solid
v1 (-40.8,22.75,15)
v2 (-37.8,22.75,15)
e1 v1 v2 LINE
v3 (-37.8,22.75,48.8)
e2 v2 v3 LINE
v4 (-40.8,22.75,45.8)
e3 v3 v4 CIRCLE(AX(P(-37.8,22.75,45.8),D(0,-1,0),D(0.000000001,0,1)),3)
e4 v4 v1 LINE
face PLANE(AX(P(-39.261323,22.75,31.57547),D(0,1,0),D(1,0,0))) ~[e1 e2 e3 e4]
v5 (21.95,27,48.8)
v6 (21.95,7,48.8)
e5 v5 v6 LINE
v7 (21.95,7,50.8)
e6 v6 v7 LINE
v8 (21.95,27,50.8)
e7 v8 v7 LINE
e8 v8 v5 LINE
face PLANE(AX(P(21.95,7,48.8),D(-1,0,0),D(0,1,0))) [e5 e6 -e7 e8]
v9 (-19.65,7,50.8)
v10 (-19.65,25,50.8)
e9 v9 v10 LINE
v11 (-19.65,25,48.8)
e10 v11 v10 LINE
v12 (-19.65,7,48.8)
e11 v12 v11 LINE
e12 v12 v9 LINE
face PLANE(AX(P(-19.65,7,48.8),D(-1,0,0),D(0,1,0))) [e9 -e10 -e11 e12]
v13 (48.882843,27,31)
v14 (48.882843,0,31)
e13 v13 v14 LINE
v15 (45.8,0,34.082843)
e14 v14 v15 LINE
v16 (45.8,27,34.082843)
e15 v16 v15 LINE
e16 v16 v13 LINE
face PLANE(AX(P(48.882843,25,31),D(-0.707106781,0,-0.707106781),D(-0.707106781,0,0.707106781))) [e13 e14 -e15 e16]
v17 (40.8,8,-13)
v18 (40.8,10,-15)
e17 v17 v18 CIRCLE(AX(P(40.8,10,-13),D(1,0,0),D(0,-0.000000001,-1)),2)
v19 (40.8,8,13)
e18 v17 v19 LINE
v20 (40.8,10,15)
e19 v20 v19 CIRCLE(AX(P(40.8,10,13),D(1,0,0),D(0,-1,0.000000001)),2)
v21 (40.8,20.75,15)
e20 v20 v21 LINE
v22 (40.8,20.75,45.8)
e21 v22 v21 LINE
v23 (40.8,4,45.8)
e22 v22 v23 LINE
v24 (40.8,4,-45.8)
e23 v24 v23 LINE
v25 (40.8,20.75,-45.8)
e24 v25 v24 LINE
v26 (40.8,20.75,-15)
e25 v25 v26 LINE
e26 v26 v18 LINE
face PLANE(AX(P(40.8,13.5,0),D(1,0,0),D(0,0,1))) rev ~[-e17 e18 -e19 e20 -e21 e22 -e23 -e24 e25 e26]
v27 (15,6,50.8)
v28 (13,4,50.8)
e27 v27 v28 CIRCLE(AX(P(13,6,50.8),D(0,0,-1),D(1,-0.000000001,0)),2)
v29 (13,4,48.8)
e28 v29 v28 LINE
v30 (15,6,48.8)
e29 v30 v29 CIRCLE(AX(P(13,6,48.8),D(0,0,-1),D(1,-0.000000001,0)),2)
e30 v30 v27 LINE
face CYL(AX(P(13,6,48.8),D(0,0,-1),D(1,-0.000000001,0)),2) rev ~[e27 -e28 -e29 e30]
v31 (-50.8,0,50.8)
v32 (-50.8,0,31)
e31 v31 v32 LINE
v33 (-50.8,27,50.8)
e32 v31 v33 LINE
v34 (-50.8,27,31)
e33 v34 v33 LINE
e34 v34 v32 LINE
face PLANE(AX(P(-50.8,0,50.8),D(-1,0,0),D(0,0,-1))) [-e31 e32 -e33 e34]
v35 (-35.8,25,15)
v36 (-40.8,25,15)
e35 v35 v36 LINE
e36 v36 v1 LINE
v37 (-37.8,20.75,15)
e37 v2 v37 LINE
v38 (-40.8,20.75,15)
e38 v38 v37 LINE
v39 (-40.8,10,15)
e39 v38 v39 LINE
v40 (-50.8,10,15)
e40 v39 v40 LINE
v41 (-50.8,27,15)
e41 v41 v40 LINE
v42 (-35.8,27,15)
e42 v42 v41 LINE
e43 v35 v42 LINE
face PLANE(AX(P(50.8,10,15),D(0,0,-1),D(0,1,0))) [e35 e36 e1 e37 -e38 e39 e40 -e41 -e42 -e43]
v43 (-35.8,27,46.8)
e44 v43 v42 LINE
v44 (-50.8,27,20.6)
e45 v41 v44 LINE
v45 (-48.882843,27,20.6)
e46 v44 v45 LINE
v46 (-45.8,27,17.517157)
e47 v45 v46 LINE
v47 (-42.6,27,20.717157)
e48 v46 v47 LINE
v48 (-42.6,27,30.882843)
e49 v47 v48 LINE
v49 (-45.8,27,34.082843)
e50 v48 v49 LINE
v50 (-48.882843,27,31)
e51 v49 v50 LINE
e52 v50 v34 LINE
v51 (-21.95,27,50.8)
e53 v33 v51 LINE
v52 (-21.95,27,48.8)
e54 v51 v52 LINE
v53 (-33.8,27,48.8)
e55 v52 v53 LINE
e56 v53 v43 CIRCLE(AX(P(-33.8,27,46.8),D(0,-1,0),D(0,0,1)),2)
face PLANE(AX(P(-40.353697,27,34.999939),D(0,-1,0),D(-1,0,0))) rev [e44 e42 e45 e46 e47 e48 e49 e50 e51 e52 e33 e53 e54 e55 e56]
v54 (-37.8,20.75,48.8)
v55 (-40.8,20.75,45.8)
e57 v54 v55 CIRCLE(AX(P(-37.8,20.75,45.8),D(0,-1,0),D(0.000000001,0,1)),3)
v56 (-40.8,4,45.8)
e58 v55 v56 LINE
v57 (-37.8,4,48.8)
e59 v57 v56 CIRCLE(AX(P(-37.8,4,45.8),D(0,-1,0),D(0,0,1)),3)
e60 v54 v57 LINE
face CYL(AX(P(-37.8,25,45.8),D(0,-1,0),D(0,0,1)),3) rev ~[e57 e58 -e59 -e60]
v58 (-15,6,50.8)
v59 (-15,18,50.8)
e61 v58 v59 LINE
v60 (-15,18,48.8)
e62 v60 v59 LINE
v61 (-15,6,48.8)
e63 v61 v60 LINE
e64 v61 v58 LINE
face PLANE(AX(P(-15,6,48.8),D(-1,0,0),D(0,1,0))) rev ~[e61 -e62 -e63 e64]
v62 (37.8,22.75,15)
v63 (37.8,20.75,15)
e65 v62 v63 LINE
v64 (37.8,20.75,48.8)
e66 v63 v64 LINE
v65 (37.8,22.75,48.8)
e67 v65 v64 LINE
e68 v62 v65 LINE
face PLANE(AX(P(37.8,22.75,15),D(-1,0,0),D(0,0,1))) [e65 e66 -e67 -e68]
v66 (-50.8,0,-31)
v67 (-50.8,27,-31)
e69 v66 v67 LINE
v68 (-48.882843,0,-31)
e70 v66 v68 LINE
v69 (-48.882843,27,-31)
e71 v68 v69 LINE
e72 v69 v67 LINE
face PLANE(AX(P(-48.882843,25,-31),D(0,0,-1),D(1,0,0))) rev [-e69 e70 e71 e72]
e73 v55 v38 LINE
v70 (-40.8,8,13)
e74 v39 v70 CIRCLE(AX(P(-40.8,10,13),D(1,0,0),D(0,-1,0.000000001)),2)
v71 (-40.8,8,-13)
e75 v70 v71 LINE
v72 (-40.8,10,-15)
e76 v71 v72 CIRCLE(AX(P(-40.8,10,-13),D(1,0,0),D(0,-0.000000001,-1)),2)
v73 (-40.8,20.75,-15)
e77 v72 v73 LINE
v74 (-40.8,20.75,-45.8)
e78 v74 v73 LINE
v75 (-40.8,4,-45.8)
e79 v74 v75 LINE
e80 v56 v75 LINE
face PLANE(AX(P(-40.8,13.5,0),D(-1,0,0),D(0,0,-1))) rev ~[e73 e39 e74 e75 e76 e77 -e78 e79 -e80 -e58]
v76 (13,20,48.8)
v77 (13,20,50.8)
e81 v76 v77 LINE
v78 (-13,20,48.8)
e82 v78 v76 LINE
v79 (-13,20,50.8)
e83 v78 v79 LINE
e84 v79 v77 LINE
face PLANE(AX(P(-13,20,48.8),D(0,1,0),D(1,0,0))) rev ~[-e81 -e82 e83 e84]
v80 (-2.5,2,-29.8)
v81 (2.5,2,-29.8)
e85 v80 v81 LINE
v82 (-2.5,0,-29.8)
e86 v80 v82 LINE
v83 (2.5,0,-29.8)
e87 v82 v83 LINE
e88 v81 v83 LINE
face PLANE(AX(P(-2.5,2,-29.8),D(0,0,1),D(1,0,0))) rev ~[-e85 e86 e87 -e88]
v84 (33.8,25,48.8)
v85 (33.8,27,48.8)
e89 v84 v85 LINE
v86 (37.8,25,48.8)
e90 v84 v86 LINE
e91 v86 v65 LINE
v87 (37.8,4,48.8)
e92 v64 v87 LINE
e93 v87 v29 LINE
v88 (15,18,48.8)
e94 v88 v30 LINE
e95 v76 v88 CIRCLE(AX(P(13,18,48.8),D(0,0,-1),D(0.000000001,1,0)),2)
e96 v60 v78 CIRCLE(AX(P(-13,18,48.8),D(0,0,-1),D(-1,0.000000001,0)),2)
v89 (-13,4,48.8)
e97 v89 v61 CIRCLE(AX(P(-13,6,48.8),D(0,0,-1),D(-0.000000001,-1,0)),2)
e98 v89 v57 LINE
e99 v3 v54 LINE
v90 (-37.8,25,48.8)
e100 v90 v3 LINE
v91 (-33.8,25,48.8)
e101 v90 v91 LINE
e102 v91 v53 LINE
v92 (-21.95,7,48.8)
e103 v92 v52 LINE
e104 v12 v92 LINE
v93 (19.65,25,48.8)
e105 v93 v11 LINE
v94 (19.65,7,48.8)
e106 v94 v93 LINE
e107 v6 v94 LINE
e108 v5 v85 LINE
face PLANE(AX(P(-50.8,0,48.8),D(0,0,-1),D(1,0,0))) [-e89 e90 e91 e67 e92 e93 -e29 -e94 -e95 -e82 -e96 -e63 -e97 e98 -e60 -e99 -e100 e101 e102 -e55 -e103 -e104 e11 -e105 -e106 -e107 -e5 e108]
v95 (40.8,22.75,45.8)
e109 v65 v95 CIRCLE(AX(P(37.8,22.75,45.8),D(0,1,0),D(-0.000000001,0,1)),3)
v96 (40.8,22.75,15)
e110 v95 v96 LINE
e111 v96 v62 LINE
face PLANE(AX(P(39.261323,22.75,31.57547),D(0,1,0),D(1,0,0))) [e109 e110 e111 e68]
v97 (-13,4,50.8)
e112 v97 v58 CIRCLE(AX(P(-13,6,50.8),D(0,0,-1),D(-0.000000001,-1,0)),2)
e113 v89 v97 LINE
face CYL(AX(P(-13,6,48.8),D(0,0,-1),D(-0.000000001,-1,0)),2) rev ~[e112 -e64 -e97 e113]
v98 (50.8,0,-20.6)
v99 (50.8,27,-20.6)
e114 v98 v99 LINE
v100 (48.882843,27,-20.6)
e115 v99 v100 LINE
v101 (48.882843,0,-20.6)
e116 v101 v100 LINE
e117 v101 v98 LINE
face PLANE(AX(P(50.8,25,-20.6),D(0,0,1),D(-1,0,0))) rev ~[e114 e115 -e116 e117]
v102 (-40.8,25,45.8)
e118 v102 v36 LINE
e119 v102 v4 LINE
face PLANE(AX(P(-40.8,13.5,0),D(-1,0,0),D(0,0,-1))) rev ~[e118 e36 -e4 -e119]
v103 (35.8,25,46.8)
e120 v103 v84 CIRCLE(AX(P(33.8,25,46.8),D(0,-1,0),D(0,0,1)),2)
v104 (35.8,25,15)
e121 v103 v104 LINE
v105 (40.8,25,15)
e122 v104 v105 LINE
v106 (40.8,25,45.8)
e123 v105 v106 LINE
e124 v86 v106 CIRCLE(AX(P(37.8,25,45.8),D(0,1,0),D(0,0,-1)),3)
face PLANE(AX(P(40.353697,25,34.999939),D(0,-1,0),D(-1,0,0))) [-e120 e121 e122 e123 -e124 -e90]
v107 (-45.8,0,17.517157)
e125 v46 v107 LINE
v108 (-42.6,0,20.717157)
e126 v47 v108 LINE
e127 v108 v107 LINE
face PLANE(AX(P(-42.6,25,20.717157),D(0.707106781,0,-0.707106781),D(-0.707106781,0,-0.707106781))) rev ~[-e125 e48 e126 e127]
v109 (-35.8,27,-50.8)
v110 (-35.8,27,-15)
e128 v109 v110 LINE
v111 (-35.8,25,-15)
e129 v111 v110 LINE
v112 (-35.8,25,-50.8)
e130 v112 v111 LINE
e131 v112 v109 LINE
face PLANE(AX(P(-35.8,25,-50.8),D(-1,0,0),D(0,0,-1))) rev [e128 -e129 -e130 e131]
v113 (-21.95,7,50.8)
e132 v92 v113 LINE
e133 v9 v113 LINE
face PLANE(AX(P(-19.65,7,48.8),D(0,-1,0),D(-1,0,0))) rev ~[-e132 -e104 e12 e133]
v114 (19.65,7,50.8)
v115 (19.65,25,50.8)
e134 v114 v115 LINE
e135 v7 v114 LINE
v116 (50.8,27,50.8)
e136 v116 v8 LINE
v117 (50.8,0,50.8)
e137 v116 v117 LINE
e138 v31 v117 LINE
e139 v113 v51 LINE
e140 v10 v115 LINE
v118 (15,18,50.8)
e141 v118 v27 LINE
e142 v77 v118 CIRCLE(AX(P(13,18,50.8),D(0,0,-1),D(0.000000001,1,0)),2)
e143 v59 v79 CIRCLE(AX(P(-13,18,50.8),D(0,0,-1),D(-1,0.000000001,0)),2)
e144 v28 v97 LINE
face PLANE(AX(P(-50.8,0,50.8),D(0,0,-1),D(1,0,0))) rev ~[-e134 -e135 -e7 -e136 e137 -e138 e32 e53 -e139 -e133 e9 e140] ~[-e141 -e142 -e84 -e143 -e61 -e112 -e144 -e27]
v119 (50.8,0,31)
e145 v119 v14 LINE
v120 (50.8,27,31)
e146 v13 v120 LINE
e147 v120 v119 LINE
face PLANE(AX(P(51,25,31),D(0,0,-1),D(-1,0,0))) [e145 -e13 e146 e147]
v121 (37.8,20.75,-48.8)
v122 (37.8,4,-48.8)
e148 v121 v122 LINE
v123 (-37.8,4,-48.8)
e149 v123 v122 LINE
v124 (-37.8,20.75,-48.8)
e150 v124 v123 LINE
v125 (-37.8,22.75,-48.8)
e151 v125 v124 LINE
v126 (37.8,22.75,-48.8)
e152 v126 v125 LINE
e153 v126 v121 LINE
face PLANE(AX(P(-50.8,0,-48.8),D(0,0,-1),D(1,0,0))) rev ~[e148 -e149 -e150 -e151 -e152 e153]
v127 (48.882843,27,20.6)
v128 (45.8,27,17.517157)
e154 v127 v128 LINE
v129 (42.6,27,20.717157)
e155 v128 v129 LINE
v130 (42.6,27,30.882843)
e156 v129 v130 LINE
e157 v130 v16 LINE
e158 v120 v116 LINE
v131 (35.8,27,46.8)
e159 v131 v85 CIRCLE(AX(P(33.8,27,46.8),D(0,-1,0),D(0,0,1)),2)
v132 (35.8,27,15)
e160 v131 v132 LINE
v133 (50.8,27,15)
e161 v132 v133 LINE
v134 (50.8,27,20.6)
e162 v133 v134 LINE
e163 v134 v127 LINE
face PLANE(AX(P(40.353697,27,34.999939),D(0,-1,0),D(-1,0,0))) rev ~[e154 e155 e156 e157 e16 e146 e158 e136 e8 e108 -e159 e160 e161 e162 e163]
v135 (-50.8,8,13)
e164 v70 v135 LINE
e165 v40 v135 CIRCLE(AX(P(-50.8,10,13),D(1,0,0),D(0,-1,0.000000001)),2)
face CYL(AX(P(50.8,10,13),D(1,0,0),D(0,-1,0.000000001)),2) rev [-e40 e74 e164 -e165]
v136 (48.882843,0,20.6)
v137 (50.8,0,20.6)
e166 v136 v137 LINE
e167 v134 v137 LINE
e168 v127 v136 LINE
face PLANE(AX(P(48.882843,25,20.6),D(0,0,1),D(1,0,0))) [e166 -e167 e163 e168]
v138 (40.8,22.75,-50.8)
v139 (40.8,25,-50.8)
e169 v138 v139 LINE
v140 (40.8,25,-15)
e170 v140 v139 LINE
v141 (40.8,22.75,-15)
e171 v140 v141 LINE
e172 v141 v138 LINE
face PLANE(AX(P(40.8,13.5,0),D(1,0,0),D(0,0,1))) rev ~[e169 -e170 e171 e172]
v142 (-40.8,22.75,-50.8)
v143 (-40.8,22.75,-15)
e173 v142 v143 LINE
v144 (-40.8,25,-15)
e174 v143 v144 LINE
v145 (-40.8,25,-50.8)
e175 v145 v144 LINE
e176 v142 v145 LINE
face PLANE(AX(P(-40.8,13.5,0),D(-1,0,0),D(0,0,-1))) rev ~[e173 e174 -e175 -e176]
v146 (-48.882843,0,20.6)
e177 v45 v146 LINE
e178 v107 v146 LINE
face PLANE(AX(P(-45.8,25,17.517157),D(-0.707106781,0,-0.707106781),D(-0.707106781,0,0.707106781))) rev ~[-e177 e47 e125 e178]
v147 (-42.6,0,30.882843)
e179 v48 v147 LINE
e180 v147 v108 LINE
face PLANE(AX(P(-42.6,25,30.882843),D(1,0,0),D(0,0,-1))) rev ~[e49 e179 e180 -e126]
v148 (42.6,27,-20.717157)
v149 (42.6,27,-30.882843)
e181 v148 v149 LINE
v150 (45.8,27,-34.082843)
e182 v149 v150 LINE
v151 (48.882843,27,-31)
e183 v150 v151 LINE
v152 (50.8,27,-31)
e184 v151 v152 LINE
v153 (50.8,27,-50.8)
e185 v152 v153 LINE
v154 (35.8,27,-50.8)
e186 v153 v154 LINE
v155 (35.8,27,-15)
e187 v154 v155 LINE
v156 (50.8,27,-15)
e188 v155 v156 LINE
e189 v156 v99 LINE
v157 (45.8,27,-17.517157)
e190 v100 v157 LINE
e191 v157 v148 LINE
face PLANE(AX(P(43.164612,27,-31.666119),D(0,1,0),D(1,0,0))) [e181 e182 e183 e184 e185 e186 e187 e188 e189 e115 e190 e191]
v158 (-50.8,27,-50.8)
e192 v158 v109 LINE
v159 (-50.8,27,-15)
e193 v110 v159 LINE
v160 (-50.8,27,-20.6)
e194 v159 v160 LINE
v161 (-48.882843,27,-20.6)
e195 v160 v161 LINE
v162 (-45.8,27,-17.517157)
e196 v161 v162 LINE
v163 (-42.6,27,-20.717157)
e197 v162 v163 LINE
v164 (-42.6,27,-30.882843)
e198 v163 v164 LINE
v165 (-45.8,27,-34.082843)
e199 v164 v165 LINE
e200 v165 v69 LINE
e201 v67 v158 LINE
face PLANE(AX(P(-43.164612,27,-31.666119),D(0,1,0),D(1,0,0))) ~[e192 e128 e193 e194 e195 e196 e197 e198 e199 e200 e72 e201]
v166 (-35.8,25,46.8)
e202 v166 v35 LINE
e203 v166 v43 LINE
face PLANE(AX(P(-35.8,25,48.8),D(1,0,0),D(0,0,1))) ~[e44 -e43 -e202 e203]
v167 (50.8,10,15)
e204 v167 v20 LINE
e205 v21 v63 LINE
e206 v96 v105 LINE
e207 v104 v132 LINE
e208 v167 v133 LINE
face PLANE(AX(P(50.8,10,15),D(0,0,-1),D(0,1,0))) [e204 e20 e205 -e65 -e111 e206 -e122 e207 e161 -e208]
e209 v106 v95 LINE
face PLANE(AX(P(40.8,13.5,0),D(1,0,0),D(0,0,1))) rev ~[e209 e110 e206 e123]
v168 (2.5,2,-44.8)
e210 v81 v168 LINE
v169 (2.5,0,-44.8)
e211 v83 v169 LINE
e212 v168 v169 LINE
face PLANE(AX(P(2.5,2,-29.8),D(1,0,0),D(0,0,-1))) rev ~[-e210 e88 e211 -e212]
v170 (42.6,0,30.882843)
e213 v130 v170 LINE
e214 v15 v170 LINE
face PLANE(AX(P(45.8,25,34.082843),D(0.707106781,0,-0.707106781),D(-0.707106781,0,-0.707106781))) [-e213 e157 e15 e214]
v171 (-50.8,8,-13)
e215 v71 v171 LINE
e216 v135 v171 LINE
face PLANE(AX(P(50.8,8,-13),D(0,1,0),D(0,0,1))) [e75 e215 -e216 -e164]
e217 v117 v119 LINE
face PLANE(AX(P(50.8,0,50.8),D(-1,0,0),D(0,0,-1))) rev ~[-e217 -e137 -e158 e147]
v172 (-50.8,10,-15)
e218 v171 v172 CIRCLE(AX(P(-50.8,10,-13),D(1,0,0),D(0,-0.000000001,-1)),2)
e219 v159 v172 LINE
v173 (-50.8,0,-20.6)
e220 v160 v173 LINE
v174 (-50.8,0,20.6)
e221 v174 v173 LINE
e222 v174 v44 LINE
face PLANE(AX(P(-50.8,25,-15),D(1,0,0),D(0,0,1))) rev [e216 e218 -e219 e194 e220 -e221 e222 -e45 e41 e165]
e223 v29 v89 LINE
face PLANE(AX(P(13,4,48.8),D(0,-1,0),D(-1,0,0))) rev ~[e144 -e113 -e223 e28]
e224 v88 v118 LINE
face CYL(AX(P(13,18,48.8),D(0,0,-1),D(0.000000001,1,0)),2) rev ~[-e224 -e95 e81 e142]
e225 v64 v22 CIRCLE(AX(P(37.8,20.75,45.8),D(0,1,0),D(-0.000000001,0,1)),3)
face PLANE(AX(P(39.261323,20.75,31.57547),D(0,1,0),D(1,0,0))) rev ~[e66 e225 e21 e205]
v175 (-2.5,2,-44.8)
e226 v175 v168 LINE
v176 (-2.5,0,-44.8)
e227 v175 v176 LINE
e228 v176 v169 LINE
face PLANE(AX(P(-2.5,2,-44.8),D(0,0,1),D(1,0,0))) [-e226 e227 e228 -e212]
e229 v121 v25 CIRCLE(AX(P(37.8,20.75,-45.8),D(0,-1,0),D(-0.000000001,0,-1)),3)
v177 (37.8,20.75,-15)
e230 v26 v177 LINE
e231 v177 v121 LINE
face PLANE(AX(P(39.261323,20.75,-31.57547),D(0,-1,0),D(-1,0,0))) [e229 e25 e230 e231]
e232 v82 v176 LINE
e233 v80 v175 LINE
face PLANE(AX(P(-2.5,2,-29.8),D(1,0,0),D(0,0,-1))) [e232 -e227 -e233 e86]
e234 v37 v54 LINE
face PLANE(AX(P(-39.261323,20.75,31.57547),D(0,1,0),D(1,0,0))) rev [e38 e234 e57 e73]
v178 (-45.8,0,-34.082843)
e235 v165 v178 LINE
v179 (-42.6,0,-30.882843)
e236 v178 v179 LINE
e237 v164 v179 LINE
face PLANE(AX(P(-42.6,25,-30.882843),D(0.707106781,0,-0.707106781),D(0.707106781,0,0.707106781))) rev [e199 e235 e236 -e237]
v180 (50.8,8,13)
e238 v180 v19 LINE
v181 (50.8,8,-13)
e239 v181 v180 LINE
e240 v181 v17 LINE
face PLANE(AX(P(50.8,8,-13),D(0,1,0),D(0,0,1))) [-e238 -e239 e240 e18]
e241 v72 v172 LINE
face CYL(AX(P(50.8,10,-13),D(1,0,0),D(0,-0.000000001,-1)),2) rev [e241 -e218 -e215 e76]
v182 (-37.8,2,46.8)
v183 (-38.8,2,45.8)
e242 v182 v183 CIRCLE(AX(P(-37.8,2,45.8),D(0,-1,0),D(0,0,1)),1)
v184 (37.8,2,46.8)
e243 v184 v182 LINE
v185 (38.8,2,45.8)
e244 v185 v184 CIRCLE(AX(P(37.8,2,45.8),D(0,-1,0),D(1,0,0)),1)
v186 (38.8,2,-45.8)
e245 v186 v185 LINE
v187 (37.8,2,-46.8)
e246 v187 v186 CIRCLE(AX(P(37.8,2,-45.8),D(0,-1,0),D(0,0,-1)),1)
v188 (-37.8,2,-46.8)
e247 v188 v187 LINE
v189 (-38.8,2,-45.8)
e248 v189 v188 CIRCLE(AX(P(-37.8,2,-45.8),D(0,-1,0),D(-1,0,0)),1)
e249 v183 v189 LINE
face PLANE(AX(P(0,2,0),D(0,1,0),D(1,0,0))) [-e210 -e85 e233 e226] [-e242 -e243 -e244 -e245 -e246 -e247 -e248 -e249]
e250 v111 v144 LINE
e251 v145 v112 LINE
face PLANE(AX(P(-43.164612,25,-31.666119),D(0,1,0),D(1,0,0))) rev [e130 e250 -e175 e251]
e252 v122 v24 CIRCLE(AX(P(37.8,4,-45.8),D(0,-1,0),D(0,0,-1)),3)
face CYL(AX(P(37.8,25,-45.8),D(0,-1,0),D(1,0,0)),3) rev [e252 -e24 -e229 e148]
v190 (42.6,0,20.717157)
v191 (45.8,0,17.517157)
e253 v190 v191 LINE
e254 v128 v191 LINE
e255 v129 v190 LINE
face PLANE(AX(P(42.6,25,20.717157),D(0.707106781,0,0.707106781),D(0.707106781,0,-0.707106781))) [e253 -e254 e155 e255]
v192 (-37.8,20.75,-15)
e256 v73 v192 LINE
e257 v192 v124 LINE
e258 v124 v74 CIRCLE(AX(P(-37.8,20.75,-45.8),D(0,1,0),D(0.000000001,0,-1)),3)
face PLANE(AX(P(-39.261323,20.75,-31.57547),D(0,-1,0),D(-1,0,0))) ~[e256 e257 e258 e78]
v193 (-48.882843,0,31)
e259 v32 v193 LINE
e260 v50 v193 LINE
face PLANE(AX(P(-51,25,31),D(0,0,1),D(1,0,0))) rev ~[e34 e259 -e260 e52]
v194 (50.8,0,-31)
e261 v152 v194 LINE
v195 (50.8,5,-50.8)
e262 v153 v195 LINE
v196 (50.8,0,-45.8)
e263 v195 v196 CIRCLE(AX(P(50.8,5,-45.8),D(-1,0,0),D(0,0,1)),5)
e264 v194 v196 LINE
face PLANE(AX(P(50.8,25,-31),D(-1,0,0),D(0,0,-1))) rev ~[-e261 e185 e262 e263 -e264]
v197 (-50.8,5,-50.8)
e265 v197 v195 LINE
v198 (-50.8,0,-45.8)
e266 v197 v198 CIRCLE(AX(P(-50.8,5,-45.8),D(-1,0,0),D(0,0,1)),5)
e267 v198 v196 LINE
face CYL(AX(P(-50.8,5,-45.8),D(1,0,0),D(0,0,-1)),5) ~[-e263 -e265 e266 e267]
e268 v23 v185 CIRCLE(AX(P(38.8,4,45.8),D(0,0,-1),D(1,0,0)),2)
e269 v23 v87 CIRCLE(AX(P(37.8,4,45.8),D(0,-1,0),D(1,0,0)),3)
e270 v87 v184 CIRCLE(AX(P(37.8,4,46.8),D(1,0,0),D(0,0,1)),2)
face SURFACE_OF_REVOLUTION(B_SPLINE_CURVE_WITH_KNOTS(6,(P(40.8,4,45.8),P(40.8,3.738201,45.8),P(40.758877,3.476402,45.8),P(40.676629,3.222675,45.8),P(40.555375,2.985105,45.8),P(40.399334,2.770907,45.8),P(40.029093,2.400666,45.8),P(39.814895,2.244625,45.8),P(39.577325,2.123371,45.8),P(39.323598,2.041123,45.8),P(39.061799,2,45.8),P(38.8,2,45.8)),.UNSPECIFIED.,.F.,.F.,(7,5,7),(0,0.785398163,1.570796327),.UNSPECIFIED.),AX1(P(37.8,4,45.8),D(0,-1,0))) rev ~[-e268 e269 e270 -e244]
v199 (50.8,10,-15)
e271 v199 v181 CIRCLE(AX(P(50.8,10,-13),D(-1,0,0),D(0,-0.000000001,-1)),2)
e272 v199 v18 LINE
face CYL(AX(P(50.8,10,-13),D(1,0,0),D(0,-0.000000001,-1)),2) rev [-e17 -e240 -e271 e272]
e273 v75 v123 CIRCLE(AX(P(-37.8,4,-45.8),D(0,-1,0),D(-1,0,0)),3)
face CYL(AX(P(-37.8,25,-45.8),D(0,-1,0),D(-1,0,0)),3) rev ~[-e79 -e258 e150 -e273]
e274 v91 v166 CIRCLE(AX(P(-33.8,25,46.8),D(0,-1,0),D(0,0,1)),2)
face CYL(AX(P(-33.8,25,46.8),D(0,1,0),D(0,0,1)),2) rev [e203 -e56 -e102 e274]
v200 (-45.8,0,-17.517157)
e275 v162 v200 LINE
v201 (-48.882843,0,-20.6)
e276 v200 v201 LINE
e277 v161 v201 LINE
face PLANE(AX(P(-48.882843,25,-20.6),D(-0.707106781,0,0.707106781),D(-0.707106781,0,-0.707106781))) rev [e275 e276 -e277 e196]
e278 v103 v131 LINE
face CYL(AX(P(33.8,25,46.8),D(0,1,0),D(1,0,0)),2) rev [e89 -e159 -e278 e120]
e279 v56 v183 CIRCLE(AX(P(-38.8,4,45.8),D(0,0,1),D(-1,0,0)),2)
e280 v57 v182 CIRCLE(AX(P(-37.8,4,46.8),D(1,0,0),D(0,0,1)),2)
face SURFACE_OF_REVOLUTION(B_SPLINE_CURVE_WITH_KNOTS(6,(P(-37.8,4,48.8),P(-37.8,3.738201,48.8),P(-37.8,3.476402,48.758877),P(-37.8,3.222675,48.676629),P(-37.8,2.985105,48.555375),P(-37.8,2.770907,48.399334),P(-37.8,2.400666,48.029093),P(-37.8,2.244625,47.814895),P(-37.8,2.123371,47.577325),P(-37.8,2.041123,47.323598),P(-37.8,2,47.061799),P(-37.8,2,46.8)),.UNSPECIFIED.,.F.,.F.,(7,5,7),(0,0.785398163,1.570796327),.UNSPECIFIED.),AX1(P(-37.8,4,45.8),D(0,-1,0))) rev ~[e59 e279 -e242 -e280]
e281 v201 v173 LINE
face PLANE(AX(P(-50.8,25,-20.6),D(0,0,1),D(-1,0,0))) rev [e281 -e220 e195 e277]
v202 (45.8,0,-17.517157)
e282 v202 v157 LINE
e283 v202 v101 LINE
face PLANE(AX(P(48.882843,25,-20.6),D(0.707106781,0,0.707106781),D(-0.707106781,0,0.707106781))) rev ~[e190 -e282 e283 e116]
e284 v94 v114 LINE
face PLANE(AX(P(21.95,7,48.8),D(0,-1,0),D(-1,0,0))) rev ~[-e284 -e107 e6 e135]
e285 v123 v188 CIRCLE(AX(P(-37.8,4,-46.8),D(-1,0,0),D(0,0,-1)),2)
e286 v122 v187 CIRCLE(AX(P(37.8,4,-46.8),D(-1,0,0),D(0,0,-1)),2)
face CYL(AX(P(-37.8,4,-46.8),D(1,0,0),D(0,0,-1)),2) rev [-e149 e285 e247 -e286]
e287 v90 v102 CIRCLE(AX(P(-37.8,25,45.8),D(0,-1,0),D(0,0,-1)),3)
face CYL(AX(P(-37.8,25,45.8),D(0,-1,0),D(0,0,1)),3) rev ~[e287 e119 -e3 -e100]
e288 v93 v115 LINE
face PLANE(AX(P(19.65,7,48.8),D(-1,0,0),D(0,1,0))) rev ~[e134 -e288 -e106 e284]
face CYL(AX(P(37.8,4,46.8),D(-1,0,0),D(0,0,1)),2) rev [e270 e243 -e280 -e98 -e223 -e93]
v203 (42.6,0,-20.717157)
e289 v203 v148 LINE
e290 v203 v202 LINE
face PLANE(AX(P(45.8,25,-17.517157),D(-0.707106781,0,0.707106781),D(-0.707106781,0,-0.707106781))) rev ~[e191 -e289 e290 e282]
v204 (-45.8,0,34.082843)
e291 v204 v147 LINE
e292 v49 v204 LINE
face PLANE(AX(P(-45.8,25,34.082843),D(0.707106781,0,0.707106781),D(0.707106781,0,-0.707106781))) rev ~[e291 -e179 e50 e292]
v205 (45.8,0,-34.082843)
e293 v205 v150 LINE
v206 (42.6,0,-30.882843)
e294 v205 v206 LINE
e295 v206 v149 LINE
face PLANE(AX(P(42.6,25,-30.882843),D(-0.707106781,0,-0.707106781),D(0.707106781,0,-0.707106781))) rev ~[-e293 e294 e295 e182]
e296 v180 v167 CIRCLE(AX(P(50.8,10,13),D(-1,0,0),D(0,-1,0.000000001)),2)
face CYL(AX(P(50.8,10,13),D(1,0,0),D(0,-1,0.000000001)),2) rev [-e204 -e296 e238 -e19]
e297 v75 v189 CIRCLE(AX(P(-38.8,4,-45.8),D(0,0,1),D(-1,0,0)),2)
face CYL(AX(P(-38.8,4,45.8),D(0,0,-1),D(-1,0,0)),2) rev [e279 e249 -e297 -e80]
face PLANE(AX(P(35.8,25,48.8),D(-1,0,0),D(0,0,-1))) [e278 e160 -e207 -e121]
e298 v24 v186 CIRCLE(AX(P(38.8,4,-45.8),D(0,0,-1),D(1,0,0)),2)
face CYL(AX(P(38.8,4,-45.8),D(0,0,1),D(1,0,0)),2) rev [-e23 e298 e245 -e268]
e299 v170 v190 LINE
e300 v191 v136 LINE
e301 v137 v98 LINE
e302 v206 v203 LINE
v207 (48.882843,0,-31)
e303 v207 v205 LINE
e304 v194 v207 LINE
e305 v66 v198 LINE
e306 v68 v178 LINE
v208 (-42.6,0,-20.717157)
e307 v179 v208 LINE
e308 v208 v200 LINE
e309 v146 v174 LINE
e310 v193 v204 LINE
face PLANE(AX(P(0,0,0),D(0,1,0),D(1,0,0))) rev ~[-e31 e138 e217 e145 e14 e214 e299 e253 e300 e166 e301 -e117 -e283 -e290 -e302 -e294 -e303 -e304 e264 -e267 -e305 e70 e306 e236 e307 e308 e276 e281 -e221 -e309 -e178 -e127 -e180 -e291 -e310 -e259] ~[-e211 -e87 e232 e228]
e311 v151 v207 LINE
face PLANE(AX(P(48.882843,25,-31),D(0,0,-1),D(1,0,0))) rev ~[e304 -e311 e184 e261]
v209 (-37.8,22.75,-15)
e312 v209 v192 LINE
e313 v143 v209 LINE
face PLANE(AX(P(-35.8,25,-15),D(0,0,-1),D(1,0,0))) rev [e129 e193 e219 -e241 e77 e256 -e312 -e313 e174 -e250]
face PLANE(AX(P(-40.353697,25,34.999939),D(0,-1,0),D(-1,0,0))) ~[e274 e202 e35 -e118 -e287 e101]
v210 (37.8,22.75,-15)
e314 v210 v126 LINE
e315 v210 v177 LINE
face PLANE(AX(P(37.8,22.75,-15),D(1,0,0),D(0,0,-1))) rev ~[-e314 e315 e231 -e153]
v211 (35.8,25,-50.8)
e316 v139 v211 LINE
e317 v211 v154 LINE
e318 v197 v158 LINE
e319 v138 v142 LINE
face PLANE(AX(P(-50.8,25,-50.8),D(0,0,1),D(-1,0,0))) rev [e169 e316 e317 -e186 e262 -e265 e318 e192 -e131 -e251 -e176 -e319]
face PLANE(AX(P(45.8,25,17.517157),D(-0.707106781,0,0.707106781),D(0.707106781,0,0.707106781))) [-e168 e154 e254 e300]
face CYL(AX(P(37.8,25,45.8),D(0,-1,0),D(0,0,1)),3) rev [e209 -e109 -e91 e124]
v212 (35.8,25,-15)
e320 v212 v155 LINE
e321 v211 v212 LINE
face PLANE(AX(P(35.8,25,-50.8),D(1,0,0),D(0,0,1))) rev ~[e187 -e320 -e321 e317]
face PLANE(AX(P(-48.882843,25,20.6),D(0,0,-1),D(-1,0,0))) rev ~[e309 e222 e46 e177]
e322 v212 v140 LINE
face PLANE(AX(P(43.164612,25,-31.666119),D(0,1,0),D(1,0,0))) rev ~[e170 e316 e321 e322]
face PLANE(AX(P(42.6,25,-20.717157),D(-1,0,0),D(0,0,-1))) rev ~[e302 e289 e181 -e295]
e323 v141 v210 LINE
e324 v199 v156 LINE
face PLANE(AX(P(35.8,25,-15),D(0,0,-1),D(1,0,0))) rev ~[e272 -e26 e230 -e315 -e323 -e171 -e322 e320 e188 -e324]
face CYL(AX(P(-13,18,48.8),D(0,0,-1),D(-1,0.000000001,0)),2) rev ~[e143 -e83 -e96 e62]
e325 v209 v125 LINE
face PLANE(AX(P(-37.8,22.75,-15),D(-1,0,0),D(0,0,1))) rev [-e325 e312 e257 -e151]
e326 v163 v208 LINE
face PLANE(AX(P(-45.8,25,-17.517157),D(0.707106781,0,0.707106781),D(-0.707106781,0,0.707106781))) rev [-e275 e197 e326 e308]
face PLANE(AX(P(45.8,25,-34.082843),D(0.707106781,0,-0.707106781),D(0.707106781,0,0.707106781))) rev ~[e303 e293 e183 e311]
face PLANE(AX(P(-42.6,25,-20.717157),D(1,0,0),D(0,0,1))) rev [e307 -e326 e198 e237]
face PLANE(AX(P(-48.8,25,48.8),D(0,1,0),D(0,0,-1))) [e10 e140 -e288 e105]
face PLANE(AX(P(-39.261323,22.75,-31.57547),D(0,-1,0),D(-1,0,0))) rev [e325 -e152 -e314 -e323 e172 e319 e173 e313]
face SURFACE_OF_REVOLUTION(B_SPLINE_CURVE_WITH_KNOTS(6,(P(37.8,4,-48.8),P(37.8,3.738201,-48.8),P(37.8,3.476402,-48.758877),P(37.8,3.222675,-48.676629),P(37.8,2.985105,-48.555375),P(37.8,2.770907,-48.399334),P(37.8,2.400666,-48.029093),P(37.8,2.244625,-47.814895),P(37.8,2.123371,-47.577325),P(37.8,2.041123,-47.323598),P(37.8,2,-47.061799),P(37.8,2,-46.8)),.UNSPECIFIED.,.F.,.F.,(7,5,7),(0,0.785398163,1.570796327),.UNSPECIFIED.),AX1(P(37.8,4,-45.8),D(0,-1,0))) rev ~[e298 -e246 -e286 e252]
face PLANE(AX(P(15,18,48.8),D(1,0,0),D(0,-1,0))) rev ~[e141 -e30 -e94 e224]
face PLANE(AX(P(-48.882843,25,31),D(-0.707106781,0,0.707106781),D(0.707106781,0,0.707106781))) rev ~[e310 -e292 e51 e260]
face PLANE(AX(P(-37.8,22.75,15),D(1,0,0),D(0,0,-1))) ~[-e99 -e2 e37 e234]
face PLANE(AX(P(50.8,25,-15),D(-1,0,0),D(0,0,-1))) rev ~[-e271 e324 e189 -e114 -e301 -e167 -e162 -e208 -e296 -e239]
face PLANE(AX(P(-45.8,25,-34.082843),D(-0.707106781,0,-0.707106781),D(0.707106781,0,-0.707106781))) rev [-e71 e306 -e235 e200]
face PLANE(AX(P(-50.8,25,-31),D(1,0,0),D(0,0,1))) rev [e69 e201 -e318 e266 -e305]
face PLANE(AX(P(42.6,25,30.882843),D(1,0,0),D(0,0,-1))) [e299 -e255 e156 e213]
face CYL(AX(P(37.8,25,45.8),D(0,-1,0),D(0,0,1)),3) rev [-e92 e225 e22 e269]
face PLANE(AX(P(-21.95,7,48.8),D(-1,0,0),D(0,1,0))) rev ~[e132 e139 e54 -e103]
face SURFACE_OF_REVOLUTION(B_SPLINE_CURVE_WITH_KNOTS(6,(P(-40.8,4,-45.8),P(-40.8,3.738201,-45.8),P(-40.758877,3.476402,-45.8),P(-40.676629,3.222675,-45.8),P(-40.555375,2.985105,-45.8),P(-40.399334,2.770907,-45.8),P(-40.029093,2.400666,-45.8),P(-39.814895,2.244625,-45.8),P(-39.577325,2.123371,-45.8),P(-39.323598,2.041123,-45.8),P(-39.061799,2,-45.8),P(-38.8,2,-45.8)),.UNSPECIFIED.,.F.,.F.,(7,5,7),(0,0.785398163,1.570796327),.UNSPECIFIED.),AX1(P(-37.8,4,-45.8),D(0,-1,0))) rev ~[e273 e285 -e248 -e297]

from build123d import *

# Parameters (mm, degrees)
SKETCH1_W                 = 101.6
SKETCH1_H                 = 101.6
BOSS_EXTRUDE1_DEPTH       = 25
SHELL1_T                  = -2
SHELL1_THICKNESS_2_FACE_W = 97.6
SHELL1_THICKNESS_2_FACE_H = 23
SHELL1_THICKNESS_2_DEPTH  = 8
SHELL1_THICKNESS_3_FACE_W = 97.6
SHELL1_THICKNESS_3_FACE_H = 23
SHELL1_THICKNESS_3_DEPTH  = 8
SKETCH2_W                 = 5
SKETCH2_H                 = 15
CUT_EXTRUDE1_DEPTH        = 25
CUT_EXTRUDE2_DEPTH        = 117.310790557
FILLET2_R                 = 3
FILLET3_R                 = 2
CUT_EXTRUDE4_DEPTH        = 77.067601513
CUT_EXTRUDE7_START        = -99.6
SKETCH11_W                = 2.3
SKETCH11_H                = 18
CUT_EXTRUDE7_DEPTH        = 17.710790557
SKETCH12_W                = 81.6
SKETCH12_H                = 2.25
CUT_EXTRUDE8_DEPTH        = 10
BOSS_EXTRUDE2_DEPTH       = 2
BOSS_EXTRUDE3_DEPTH       = 2
FILLET4_R                 = 2
FILLET4_OF_MIRROR1_R      = 2
FILLET5_R                 = 5


with BuildPart() as part:
    # Sketch1 → Boss-Extrude1 (new body)
    with BuildSketch(Plane(origin=(0, 0, 0), x_dir=(1, 0, 0), z_dir=(0, 1, 0))):
        Rectangle(SKETCH1_W, SKETCH1_H)
    extrude(amount=BOSS_EXTRUDE1_DEPTH)

    # Shell1
    shell1_openings = [part.faces().sort_by_distance(p)[0] for p in [
        (0, 25, 0),
    ]]
    offset(amount=SHELL1_T, openings=shell1_openings, kind=Kind.INTERSECTION)

    # Shell1 thickness 2 face (on inner face of the shell) → Shell1 thickness 2 (add)
    with BuildSketch(Plane(origin=(48.8, 13.5, 0), x_dir=(0, 0, 1), z_dir=(1, 0, 0))):
        Rectangle(SHELL1_THICKNESS_2_FACE_W, SHELL1_THICKNESS_2_FACE_H)
    extrude(amount=-SHELL1_THICKNESS_2_DEPTH)

    # Shell1 thickness 3 face (on inner face of the shell) → Shell1 thickness 3 (add)
    with BuildSketch(Plane(origin=(-48.8, 13.5, 0), x_dir=(0, 0, -1), z_dir=(-1, 0, 0))):
        Rectangle(SHELL1_THICKNESS_3_FACE_W, SHELL1_THICKNESS_3_FACE_H)
    extrude(amount=-SHELL1_THICKNESS_3_DEPTH)

    # Sketch2 → Cut-Extrude1 (cut)
    with BuildSketch(Plane(origin=(0, 2, 0), x_dir=(1, 0, 0), z_dir=(0, 1, 0))):
        with Locations((0, 37.3)):
            Rectangle(SKETCH2_W, SKETCH2_H)
    extrude(amount=-CUT_EXTRUDE1_DEPTH, mode=Mode.SUBTRACT)

    # Sketch3 → Cut-Extrude2 (cut, through all)
    with BuildSketch(Plane(origin=(50.8, 0, 0), x_dir=(0, 0, -1), z_dir=(1, 0, 0))):
        with BuildLine():
            Line((-15, 42), (15, 42))
            Line((15, 42), (15, 10))
            ThreePointArc((15, 10), (14.414213562, 8.585786438), (13, 8))
            Line((13, 8), (-13, 8))
            ThreePointArc((-13, 8), (-14.414213562, 8.585786438), (-15, 10))
            Line((-15, 10), (-15, 42))
        make_face()
    extrude(amount=-CUT_EXTRUDE2_DEPTH, mode=Mode.SUBTRACT)

    # Fillet2
    fillet2_edges = [part.edges().sort_by_distance(p)[0] for p in [
        (-40.8, 13.5, -48.8),
        (-40.8, 13.5, 48.8),
        (40.8, 13.5, 48.8),
        (40.8, 13.5, -48.8),
    ]]
    fillet(fillet2_edges, radius=FILLET2_R)

    # Fillet3
    fillet3_edges = [part.edges().sort_by_distance(p)[0] for p in [
        (40.8, 2, 0),
        (-40.8, 2, 0),
        (0, 2, 48.8),
        (0, 2, -48.8),
        (-39.921320344, 2, -47.921320344),
        (-39.921320344, 2, 47.921320344),
        (39.921320344, 2, 47.921320344),
        (39.921320344, 2, -47.921320344),
    ]]
    fillet(fillet3_edges, radius=FILLET3_R)

    # Sketch7 → Cut-Extrude4 (cut, through all)
    with BuildSketch(Plane(origin=(0, 25, 0), x_dir=(1, 0, 0), z_dir=(0, 1, 0))):
        Polygon((51, -31), (48.882842712, -31), (45.8, -34.082842712), (42.6, -30.882842712), (42.6, -20.717157288), (45.8, -17.517157288), (48.882842712, -20.6), (51, -20.6), align=None)
        Polygon((-51, -20.6), (-51, -31), (-48.882842712, -31), (-45.8, -34.082842712), (-42.6, -30.882842712), (-42.6, -20.717157288), (-45.8, -17.517157288), (-48.882842712, -20.6), align=None)
        Polygon((-51, 31), (-48.882842712, 31), (-45.8, 34.082842712), (-42.6, 30.882842712), (-42.6, 20.717157288), (-45.8, 17.517157288), (-48.882842712, 20.6), (-51, 20.6), align=None)
        Polygon((51, 20.6), (51, 31), (48.882842712, 31), (45.8, 34.082842712), (42.6, 30.882842712), (42.6, 20.717157288), (45.8, 17.517157288), (48.882842712, 20.6), align=None)
    extrude(amount=-CUT_EXTRUDE4_DEPTH, mode=Mode.SUBTRACT)

    # Sketch11 → Cut-Extrude7 (cut, through all)
    with BuildSketch(Plane(origin=(0, 0, -50.8), x_dir=(-1, 0, 0), z_dir=(0, 0, -1)).offset(CUT_EXTRUDE7_START)):
        with Locations((-20.8, 16)):
            Rectangle(SKETCH11_W, SKETCH11_H)
        with Locations((20.8, 16)):
            Rectangle(SKETCH11_W, SKETCH11_H)
        with BuildLine():
            Line((-13, 4), (13, 4))
            ThreePointArc((13, 4), (14.414213562, 4.585786438), (15, 6))
            Line((15, 6), (15, 18))
            ThreePointArc((15, 18), (14.414213562, 19.414213562), (13, 20))
            Line((13, 20), (-13, 20))
            ThreePointArc((-13, 20), (-14.414213562, 19.414213562), (-15, 18))
            Line((-15, 18), (-15, 6))
            ThreePointArc((-15, 6), (-14.414213562, 4.585786438), (-13, 4))
        make_face()
    extrude(amount=-CUT_EXTRUDE7_DEPTH, mode=Mode.SUBTRACT)

    # Sketch12 → Cut-Extrude8 (cut)
    with BuildSketch(Plane(origin=(0, 0, -50.8), x_dir=(-1, 0, 0), z_dir=(0, 0, -1))):
        with Locations((0, 23.875)):
            Rectangle(SKETCH12_W, SKETCH12_H)
    extrude(amount=-CUT_EXTRUDE8_DEPTH, mode=Mode.SUBTRACT)

    # Sketch13 → Boss-Extrude2 (add)
    with BuildSketch(Plane(origin=(0, 22.75, 0), x_dir=(1, 0, 0), z_dir=(0, 1, 0))):
        with BuildLine():
            Line((40.8, 45.8), (40.8, 15))
            Line((40.8, 15), (37.8, 15))
            Line((37.8, 15), (37.8, 48.8))
            ThreePointArc((37.8, 48.8), (39.921320344, 47.921320344), (40.8, 45.8))
        make_face()
        with BuildLine():
            Line((40.8, -45.8), (40.8, -15))
            Line((40.8, -15), (37.8, -15))
            Line((37.8, -15), (37.8, -48.8))
            ThreePointArc((37.8, -48.8), (39.921320344, -47.921320344), (40.8, -45.8))
        make_face()
    boss_extrude2 = extrude(amount=-BOSS_EXTRUDE2_DEPTH)

    # Sketch14 → Boss-Extrude3 (add)
    with BuildSketch(Plane(origin=(0, 25, 0), x_dir=(1, 0, 0), z_dir=(0, 1, 0))):
        Polygon((50.8, 50.8), (35.8, 50.8), (35.8, 15), (50.8, 15), (50.8, 20.6), (48.882842712, 20.6), (45.8, 17.517157288), (42.6, 20.717157288), (42.6, 30.882842712), (45.8, 34.082842712), (48.882842712, 31), (50.8, 31), align=None)
        Polygon((21.95, -50.8), (21.95, -48.8), (35.8, -48.8), (35.8, -15), (50.8, -15), (50.8, -20.6), (48.882842712, -20.6), (45.8, -17.517157288), (42.6, -20.717157288), (42.6, -30.882842712), (45.8, -34.082842712), (48.882842712, -31), (50.8, -31), (50.8, -50.8), align=None)
    boss_extrude3 = extrude(amount=BOSS_EXTRUDE3_DEPTH)

    # Fillet4
    fillet4_edges = [part.edges().sort_by_distance(p)[0] for p in [
        (35.8, 26, 48.8),
    ]]
    fillet(fillet4_edges, radius=FILLET4_R)

    # Mirror1: Boss-Extrude2, Boss-Extrude3 across plane
    add(boss_extrude2.mirror(Plane(origin=(0, 0, 0), x_dir=(0, 0, 1), z_dir=(1, 0, 0))))
    add(boss_extrude3.mirror(Plane(origin=(0, 0, 0), x_dir=(0, 0, 1), z_dir=(1, 0, 0))))

    # Fillet4 of Mirror1
    fillet4_of_mirror1_edges = [part.edges().sort_by_distance(p)[0] for p in [
        (-35.8, 26, 48.8),
    ]]
    fillet(fillet4_of_mirror1_edges, radius=FILLET4_OF_MIRROR1_R)

    # Fillet5
    fillet5_edges = [part.edges().sort_by_distance(p)[0] for p in [
        (0, 0, -50.8),
    ]]
    fillet(fillet5_edges, radius=FILLET5_R)


solid = part.part
